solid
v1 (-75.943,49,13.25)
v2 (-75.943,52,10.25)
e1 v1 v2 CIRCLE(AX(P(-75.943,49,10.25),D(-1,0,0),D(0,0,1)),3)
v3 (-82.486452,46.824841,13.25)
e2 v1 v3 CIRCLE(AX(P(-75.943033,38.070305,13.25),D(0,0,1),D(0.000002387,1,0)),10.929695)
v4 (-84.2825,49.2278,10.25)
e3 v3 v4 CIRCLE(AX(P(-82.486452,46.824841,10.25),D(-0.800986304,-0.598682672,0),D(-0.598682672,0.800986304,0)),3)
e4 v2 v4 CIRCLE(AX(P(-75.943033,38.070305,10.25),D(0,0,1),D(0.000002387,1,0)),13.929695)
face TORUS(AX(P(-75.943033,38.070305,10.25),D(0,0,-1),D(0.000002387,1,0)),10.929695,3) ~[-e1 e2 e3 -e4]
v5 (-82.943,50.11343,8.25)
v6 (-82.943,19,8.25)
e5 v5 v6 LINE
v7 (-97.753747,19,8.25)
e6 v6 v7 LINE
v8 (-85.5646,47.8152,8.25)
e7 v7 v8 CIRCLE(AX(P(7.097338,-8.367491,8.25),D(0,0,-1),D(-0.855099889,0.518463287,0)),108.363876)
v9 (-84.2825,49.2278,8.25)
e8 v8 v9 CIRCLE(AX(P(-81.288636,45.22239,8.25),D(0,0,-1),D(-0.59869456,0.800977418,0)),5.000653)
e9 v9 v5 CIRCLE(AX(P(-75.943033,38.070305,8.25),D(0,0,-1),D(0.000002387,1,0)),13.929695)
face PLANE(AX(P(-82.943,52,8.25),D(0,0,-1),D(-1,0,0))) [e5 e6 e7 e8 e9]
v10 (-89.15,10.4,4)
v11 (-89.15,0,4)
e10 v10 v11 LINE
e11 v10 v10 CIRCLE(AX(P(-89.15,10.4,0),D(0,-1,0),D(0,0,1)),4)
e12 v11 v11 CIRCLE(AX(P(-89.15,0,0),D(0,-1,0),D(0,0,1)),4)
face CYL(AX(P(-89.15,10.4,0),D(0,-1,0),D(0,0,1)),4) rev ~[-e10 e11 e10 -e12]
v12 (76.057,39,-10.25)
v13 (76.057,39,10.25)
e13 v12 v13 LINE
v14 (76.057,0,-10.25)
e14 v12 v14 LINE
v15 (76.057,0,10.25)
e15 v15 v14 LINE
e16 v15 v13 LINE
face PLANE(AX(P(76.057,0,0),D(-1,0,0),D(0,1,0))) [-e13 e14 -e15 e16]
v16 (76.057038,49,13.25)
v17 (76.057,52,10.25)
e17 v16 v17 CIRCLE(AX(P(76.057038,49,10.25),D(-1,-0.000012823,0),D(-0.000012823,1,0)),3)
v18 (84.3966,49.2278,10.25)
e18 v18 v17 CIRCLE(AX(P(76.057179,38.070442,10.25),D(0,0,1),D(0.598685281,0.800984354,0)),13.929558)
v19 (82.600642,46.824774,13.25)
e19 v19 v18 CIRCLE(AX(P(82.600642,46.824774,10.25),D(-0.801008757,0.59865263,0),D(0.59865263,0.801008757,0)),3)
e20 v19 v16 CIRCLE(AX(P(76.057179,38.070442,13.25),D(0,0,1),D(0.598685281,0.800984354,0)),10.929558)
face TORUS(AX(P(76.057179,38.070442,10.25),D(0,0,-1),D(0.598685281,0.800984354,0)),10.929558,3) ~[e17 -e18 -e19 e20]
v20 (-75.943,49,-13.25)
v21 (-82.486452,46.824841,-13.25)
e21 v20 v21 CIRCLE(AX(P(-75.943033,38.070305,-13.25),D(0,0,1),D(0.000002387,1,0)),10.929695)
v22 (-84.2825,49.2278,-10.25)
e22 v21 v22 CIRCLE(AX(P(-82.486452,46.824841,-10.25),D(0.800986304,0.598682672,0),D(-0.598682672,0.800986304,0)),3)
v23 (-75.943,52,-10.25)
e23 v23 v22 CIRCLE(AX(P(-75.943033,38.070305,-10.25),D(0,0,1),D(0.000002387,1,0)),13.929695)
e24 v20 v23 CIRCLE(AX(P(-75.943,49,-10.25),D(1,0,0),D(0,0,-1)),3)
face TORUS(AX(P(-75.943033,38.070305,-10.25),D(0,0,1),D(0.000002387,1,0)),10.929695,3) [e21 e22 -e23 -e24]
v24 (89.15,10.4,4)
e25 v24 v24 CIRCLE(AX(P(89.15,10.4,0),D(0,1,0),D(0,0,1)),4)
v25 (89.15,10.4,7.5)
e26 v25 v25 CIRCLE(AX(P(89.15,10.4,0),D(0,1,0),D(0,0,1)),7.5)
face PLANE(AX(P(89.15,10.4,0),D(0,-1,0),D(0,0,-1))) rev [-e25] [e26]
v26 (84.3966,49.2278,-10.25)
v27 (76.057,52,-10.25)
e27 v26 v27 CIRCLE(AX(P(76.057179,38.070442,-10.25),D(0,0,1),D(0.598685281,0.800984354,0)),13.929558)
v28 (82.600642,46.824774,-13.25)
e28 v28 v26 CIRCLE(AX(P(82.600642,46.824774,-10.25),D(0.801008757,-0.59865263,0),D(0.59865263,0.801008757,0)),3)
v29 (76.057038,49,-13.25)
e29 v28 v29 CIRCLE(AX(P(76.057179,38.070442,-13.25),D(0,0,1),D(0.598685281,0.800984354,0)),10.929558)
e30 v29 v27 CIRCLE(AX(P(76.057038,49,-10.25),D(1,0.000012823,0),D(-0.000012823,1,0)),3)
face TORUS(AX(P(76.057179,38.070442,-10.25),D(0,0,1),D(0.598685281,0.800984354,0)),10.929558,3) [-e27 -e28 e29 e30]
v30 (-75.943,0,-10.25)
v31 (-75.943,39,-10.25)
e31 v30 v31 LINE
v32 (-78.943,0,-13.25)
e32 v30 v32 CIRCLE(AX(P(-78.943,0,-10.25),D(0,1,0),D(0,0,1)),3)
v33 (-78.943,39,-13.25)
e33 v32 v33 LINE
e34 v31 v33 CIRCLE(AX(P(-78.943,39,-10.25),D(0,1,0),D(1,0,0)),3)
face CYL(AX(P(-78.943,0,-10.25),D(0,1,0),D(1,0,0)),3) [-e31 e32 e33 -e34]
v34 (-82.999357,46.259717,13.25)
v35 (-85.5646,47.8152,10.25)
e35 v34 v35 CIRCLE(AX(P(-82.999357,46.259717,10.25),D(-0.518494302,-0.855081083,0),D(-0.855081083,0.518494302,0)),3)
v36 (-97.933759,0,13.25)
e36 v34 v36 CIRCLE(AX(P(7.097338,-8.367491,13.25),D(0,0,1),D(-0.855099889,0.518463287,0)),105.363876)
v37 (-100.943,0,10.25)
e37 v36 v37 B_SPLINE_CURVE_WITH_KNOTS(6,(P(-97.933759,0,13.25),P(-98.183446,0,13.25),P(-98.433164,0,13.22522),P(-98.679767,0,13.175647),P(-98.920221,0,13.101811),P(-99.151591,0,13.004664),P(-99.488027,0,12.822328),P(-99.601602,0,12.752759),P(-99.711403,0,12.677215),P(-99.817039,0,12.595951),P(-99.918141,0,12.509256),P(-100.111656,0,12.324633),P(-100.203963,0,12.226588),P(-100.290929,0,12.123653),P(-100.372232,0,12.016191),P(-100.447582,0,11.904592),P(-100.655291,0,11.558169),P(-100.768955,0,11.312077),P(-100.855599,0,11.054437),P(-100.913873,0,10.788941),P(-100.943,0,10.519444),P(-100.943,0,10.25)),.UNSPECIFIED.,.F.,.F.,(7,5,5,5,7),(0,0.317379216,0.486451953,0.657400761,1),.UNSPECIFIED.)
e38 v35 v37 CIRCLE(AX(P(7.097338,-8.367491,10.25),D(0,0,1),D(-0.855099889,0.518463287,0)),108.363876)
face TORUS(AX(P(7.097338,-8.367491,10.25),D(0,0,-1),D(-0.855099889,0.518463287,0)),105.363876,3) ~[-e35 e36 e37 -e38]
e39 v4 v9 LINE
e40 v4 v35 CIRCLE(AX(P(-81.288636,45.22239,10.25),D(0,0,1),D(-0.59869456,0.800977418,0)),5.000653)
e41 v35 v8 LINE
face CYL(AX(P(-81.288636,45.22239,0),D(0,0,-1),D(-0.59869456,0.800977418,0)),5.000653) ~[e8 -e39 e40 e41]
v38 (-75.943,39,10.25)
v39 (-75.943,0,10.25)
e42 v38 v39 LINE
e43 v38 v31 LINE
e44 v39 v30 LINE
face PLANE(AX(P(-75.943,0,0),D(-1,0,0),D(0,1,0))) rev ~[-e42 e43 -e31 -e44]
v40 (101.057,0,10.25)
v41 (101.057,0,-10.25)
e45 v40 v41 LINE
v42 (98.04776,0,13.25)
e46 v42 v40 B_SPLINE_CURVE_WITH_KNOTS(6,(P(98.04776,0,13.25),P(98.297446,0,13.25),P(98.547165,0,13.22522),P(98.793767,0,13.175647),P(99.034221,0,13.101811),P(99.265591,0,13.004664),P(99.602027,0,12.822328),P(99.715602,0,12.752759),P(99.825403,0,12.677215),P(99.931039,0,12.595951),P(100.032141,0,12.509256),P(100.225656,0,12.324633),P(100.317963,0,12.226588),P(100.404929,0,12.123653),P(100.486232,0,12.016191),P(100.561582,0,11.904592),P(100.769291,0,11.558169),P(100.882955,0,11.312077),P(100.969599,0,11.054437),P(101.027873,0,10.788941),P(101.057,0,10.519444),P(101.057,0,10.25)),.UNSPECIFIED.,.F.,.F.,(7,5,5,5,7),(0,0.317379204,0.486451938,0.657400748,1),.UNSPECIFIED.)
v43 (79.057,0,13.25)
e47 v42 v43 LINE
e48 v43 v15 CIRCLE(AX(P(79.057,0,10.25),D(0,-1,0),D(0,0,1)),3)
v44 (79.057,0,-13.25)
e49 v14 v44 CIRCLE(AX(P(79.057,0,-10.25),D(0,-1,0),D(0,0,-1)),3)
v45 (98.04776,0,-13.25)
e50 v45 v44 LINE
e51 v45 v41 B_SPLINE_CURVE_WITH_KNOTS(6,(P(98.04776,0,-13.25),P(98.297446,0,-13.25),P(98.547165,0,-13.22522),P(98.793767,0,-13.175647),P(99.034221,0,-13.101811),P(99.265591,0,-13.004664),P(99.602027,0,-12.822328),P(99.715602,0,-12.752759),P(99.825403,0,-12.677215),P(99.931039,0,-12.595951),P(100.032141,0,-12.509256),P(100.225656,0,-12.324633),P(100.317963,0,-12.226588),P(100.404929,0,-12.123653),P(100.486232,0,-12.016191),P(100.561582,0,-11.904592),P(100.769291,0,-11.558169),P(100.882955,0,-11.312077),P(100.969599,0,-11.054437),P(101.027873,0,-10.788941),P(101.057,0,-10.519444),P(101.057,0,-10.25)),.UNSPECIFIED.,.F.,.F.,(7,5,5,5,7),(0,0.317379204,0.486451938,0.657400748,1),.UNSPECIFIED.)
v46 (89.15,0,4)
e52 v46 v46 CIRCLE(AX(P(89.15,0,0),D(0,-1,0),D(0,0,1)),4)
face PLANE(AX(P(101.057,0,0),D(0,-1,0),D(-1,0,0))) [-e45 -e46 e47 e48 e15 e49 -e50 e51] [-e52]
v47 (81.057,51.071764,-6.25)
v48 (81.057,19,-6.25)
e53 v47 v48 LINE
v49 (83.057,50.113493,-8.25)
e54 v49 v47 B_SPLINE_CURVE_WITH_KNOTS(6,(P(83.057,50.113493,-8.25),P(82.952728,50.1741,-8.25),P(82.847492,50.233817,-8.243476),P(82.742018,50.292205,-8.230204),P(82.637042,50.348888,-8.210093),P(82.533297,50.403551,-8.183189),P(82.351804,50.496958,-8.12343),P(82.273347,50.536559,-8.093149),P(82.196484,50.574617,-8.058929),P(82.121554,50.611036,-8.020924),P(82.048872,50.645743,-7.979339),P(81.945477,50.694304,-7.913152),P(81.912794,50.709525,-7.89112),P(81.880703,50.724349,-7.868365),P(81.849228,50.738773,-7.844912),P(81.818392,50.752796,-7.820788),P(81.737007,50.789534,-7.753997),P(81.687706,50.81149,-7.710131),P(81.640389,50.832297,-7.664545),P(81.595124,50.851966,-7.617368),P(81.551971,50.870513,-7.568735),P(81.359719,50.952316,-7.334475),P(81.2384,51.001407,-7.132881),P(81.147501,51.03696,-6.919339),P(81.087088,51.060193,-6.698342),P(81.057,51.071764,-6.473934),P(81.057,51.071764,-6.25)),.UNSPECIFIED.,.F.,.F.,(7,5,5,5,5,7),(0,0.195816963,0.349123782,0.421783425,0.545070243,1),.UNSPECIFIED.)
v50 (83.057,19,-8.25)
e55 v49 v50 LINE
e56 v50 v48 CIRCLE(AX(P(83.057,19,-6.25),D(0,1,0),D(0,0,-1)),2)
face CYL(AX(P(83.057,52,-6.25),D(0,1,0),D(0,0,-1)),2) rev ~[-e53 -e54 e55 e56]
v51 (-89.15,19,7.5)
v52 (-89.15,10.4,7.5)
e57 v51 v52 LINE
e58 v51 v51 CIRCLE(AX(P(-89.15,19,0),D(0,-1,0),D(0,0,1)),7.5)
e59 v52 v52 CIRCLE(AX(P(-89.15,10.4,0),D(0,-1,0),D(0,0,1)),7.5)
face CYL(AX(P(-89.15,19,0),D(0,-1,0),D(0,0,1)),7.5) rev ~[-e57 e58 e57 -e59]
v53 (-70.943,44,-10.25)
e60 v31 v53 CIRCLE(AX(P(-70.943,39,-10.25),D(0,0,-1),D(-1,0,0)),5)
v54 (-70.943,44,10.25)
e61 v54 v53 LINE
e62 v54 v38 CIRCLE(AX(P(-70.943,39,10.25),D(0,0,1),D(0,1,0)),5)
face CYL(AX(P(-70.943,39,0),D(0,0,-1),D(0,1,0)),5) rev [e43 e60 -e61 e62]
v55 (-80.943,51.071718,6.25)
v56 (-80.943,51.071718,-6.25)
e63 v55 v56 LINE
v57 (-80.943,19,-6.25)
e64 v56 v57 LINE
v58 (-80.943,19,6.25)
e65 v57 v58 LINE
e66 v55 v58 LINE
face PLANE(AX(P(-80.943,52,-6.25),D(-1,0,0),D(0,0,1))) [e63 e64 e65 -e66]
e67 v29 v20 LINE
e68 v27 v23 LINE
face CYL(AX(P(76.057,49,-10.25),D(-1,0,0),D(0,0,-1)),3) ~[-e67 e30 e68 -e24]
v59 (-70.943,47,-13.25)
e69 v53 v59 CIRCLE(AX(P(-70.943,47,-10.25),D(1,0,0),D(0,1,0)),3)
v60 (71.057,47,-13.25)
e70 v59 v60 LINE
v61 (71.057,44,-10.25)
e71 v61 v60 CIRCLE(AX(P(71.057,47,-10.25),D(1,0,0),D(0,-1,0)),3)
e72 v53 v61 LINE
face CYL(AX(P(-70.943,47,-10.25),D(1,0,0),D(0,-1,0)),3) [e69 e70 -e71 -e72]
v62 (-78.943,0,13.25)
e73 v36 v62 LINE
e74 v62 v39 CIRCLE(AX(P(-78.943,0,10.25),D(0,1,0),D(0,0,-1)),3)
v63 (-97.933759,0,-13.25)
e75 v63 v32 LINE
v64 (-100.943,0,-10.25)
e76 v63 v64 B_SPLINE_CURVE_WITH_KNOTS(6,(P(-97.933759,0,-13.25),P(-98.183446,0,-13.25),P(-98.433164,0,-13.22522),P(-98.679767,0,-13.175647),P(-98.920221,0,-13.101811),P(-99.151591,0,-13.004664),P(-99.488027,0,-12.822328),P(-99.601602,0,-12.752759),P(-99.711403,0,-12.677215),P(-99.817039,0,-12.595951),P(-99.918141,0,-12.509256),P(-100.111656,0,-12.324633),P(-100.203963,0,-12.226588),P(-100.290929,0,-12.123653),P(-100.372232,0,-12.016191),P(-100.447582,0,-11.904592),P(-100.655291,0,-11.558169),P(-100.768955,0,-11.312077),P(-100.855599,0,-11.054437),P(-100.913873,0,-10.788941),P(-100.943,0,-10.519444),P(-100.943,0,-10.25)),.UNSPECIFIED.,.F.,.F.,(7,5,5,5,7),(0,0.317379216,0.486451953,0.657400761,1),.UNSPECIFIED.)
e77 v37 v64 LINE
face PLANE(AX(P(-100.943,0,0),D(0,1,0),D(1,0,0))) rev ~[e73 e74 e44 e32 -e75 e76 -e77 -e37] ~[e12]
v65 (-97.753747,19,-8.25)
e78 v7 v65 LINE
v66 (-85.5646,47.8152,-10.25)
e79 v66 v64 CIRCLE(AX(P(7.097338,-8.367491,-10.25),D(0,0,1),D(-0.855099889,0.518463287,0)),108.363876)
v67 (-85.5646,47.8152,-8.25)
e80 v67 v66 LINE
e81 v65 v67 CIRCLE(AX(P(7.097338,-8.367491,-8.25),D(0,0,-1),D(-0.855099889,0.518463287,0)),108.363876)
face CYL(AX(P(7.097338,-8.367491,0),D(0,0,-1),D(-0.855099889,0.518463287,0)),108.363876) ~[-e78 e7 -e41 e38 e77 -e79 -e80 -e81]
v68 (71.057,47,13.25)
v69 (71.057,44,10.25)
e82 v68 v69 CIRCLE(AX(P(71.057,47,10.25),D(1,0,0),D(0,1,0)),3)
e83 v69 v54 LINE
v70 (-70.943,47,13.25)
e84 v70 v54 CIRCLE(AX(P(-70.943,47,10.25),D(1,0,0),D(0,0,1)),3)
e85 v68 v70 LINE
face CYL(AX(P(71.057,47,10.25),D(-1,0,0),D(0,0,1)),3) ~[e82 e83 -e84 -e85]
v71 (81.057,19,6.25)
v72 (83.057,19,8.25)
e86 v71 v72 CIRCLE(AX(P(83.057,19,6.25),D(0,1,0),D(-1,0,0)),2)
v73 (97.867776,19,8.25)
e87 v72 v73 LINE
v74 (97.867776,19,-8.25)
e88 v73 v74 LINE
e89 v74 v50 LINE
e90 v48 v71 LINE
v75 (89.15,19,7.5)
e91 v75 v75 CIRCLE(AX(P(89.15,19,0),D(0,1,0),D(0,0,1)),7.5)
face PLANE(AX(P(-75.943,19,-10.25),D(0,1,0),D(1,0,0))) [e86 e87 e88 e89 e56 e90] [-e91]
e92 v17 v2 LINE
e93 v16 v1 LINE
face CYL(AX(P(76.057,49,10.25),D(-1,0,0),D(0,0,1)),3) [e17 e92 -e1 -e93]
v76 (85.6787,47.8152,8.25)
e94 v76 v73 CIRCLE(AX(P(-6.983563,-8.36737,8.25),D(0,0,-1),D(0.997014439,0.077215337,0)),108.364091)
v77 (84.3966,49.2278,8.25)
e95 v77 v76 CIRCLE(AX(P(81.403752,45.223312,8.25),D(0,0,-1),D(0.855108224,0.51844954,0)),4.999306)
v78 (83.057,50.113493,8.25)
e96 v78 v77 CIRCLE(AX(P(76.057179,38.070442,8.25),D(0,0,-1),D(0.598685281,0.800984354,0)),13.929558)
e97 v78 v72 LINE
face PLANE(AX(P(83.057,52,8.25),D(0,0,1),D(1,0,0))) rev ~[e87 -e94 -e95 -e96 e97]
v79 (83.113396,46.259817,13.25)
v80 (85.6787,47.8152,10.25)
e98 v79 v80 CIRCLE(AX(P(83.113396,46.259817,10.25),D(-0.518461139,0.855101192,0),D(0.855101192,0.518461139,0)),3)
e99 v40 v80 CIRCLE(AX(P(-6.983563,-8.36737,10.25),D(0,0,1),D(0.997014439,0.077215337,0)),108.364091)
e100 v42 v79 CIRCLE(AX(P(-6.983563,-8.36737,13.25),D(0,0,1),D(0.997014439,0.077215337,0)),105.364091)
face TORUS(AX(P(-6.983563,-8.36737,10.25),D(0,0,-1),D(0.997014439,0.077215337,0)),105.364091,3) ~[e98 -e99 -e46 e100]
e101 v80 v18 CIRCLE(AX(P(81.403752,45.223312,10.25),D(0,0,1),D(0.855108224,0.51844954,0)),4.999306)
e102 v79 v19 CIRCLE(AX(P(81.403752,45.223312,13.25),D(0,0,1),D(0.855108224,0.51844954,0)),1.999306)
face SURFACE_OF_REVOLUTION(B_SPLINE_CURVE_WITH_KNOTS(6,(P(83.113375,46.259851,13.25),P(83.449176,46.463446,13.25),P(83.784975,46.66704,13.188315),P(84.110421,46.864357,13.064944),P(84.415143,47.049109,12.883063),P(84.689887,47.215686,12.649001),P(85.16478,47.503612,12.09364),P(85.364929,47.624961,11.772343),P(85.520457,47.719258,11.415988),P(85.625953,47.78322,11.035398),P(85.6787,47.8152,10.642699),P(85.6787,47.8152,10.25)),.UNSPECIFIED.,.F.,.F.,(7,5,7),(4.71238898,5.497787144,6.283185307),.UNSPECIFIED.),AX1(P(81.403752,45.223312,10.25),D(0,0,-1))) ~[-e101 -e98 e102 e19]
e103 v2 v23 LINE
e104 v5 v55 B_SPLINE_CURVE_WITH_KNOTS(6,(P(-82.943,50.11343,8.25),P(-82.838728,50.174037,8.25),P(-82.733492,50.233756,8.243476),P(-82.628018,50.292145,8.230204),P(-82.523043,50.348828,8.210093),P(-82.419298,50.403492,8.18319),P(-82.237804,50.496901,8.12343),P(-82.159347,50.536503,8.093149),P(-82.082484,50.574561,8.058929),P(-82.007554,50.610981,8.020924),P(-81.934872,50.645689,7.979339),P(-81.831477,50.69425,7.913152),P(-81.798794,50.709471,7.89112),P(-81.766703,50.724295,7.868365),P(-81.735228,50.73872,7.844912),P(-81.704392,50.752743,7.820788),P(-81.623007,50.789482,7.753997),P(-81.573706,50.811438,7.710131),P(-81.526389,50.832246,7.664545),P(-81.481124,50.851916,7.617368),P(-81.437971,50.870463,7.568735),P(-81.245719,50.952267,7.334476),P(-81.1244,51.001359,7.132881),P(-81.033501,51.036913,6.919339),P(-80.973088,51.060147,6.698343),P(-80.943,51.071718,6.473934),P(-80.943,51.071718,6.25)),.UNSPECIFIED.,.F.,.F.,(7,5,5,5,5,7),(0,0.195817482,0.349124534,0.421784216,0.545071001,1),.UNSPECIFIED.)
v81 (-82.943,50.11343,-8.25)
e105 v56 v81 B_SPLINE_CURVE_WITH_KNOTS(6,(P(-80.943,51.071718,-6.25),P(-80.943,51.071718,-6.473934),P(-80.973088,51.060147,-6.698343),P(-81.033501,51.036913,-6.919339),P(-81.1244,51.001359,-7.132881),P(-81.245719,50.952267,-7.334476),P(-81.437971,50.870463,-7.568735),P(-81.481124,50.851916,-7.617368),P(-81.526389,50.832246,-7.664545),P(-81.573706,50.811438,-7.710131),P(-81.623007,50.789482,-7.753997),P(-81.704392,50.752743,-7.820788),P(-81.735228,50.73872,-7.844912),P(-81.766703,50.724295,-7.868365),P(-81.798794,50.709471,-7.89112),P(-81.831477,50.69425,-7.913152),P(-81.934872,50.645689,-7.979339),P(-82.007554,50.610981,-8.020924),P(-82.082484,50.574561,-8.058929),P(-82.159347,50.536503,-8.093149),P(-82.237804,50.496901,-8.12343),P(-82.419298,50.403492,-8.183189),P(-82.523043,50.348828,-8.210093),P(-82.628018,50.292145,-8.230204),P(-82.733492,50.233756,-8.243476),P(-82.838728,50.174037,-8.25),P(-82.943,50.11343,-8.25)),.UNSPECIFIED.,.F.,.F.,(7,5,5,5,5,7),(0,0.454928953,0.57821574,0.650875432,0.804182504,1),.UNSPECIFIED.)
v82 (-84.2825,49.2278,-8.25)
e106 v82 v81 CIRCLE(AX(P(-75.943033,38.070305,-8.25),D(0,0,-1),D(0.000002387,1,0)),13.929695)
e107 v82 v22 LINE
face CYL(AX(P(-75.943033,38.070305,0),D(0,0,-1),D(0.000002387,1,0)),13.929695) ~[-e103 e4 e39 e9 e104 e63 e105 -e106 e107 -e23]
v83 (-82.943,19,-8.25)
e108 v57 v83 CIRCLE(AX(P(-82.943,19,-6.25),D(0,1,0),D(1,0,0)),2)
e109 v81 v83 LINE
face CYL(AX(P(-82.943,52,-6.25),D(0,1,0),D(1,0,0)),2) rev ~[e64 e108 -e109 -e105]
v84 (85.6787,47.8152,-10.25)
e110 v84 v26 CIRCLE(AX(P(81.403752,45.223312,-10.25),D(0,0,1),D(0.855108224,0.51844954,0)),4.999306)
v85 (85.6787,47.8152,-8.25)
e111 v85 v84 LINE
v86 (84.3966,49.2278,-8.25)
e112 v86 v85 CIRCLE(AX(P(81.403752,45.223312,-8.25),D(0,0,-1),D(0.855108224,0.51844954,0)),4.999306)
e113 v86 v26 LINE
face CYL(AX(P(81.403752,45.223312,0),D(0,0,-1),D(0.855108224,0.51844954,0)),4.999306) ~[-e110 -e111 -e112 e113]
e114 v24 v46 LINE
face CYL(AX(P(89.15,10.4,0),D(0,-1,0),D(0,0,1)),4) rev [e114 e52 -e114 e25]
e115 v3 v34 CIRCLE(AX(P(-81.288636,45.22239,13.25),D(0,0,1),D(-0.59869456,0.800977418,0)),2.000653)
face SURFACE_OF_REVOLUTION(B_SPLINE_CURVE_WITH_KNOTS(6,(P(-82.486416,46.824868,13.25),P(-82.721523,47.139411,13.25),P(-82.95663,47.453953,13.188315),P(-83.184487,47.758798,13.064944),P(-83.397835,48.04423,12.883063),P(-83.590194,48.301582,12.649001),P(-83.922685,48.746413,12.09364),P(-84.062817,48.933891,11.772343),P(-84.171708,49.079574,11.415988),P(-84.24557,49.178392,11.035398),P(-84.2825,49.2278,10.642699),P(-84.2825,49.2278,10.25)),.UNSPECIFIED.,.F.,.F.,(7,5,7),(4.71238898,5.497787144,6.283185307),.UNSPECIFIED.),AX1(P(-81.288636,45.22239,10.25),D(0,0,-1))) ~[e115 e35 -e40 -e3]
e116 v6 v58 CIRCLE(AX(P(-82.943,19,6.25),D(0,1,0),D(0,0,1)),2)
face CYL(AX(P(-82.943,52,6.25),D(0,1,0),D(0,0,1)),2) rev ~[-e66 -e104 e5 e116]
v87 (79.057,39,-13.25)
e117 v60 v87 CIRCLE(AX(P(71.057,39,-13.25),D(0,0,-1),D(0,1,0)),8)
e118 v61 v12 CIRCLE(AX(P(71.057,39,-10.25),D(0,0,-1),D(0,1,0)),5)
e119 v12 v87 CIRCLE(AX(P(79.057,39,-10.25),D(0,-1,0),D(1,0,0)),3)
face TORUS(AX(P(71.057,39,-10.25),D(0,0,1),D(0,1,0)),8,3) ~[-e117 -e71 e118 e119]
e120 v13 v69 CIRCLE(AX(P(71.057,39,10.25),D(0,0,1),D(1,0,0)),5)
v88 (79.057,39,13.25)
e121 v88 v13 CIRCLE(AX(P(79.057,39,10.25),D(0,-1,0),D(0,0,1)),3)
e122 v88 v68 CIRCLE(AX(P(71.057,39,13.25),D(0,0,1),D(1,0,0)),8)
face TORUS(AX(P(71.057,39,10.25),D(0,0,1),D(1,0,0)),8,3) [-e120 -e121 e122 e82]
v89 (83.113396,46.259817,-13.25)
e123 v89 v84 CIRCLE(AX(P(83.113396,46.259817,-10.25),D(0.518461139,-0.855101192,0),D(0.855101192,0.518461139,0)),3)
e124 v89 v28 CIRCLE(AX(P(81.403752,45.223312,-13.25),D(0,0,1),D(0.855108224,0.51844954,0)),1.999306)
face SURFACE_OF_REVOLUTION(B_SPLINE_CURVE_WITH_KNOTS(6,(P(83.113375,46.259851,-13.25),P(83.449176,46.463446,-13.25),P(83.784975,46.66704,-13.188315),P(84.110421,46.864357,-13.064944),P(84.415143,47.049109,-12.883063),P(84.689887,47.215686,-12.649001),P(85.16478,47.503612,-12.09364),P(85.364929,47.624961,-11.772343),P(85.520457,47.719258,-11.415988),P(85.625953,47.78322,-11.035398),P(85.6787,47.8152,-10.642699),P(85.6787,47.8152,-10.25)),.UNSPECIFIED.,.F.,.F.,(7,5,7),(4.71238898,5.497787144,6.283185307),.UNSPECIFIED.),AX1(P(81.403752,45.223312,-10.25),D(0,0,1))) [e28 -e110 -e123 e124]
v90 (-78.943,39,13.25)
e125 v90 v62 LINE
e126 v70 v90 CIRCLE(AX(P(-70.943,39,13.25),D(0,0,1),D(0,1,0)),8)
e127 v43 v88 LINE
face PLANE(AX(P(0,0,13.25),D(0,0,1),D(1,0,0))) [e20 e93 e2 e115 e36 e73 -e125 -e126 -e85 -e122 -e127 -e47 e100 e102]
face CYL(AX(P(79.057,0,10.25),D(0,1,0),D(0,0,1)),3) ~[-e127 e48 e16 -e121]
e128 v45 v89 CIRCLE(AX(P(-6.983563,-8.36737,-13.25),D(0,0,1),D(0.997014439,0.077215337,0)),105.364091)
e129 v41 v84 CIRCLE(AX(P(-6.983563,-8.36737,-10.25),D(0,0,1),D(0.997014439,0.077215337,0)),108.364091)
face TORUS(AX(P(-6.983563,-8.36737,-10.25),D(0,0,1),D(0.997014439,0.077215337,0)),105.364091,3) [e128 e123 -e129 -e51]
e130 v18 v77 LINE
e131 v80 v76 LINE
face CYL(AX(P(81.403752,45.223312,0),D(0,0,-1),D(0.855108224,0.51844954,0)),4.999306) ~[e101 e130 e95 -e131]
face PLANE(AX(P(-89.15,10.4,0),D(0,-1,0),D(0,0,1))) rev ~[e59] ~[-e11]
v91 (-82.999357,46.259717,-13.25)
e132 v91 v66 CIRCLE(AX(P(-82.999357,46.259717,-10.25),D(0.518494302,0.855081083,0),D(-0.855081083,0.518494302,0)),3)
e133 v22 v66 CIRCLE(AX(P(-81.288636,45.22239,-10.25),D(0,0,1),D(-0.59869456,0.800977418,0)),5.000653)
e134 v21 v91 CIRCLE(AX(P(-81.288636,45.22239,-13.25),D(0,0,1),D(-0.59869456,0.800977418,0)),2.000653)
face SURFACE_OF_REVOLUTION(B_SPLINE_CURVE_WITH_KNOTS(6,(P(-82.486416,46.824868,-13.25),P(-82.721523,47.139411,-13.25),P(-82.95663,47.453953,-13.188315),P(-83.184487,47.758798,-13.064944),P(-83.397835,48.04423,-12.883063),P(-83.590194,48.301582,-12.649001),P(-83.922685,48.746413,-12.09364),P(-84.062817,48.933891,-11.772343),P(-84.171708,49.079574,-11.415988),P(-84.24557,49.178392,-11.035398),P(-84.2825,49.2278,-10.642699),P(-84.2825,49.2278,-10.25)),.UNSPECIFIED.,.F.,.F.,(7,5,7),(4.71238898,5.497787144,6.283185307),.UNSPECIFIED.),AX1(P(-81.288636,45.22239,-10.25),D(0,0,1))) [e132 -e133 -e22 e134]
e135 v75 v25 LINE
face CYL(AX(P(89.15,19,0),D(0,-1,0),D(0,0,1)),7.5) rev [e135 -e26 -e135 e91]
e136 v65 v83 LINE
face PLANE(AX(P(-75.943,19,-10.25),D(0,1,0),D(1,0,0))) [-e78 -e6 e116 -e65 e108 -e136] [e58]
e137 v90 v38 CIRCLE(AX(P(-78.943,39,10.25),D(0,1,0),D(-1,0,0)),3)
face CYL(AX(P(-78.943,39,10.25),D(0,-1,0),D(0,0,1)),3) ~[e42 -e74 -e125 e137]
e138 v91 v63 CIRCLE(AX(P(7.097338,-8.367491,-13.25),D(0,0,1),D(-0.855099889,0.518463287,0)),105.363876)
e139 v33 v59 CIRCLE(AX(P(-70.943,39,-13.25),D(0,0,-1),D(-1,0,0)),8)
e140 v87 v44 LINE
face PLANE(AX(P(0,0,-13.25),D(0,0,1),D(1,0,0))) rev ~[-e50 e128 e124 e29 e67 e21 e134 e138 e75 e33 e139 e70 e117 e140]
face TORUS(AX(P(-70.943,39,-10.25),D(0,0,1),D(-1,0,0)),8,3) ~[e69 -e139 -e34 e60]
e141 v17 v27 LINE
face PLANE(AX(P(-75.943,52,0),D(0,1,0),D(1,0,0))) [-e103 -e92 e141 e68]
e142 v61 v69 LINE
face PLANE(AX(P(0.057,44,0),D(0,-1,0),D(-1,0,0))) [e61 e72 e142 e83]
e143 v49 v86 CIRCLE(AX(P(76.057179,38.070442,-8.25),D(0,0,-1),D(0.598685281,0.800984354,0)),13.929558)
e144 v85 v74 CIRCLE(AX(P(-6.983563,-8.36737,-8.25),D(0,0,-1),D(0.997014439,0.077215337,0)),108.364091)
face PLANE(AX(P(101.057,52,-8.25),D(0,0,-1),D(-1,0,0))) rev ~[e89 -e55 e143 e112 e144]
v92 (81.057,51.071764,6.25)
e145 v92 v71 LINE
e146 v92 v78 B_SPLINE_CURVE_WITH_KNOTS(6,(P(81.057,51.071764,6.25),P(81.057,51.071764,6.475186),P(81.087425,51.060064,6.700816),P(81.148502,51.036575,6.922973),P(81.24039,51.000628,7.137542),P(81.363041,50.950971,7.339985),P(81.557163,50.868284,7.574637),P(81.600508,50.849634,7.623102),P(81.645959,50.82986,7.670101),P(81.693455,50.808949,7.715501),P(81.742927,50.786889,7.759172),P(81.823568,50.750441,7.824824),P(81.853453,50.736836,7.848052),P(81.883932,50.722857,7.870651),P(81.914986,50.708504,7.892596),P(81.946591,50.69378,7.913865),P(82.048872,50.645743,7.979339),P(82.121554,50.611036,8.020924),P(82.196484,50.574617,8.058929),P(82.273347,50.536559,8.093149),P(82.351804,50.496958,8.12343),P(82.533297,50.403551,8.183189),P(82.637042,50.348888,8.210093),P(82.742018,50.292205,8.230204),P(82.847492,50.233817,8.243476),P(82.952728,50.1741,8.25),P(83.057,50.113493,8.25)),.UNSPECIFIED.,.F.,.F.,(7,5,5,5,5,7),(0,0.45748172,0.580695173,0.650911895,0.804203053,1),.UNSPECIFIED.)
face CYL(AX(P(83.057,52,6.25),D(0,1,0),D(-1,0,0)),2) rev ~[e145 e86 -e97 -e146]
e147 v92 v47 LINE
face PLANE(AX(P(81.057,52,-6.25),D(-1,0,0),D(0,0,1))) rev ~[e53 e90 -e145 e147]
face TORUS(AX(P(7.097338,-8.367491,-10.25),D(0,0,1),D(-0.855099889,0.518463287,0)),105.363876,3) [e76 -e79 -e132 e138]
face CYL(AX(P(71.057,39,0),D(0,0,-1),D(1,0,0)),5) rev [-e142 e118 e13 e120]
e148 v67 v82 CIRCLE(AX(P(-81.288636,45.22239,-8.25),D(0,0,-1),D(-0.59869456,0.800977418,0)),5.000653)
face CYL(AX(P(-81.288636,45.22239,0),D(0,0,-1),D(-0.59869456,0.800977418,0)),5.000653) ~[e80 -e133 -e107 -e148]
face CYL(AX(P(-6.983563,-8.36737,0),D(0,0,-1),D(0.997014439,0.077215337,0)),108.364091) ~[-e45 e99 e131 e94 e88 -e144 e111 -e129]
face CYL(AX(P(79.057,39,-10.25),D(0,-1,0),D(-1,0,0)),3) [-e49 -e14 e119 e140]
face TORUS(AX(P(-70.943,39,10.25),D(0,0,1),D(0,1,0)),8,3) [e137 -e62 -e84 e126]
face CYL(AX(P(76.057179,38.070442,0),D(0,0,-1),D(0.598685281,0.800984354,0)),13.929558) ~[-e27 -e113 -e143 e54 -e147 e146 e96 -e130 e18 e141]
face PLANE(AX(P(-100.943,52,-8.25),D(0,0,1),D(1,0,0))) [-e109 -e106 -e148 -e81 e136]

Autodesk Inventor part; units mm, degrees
ref_plane "YZ Plane" through (0, 0, 0) normal (1, 0, 0) x (0, 1, 0)
ref_plane "XZ Plane" through (0, 0, 0) normal (0, 1, 0) x (-1, 0, 0)
ref_plane "XY Plane" through (0, 0, 0) normal (0, 0, 1) x (1, 0, 0)
sketch "Sketch1" plane through (0, 0, 0) normal (0, 0, 1) x (1, 0, 0)
  line L0 (0.057, 44) -> (71.057, 44)
  line L1 (76.057, 52) -> (0.057, 52)
  line L2 (101.057, 0) -> (76.057, 0)
  line L3 (76.057, 0) -> (76.057, 39)
  arc A0 (101.057, 0) -> (85.6787, 47.8152) centre (-6.9827, -8.3672) ccw
  arc A1 (84.3966, 49.2278) -> (76.057, 52) centre (76.057, 38.0701) ccw
  arc A2 (85.6787, 47.8152) -> (84.3966, 49.2278) centre (81.4032, 45.2229) ccw
  line L4 (0.057, 44) -> (-70.943, 44)
  line L5 (-75.943, 52) -> (0.057, 52)
  line L6 (-100.943, 0) -> (-75.943, 0)
  line L7 (-75.943, 0) -> (-75.943, 39)
  arc A3 (-85.5646, 47.8152) -> (-100.943, 0) centre (7.0967, -8.3672) ccw
  arc A4 (-75.943, 52) -> (-84.2825, 49.2278) centre (-75.943, 38.0701) ccw
  arc A5 (-84.2825, 49.2278) -> (-85.5646, 47.8152) centre (-81.2891, 45.2229) ccw
  arc A6 (76.057, 39) -> (71.057, 44) centre (71.057, 39) ccw
  arc A7 (-70.943, 44) -> (-75.943, 39) centre (-70.943, 39) ccw
  point P0 (0, 0)
  point P1 (76.057, 44)
  point P2 (0.1141, 0)
  point P3 (-75.943, 44)
  dimension "d1" = 44
  dimension "d2" = 8
  dimension "d4" = 5
  dimension "d5" = 152
  dimension "d10" = 5
extrude "Extrusion1" add sketch "Sketch1" along normal mid plane 26.5
fillet "Fillet1" radius 3 14 edges at (-80.3371, 51.2888, 13.25) (-84.9915, 48.5832, 13.25) (-96.0624, 24.8109, 13.25) (80.4512, 51.2888, 13.25) (85.1056, 48.5832, 13.25) (96.1764, 24.8109, 13.25) (0.057, 52, 13.25) (80.4512, 51.2888, -13.25) (85.1056, 48.5832, -13.25) (96.1764, 24.8109, -13.25) (-80.3371, 51.2888, -13.25) (-84.9915, 48.5832, -13.25) (-96.0624, 24.8109, -13.25) (0.057, 52, -13.25)
fillet "Fillet2" radius 3 6 edges at (0.057, 44, 13.25) (76.057, 19.5, 13.25) (-75.943, 19.5, 13.25) (-75.943, 19.5, -13.25) (0.057, 44, -13.25) (76.057, 19.5, -13.25)
sketch "Sketch2" plane through (-75.943, 52, -10.25) normal (0, 1, 0) x (1, 0, 0)
  line L0 (0, 0) -> (0, -20.5) projected
  line L1 (152, 0) -> (152, -20.5) projected
  line L2 (177, 0) -> (177, -20.5) projected
  line L3 (177, -2) -> (159, -2)
  line L4 (157, -4) -> (157, -16.5)
  line L5 (159, -18.5) -> (177, -18.5)
  line L6 (177, -18.5) -> (177, -2)
  line L7 (159.0563, 3) -> (173.9908, 3) projected
  line L8 (173.9908, -23.5) -> (159.0563, -23.5) projected
  arc A0 (159, -2) -> (157, -4) centre (159, -4) ccw
  arc A1 (157, -16.5) -> (159, -18.5) centre (159, -16.5) ccw
  line L9 (-25, 0) -> (-25, -20.5) projected
  line L10 (-25, -2) -> (-7, -2)
  line L11 (-5, -4) -> (-5, -16.5)
  line L12 (-7, -18.5) -> (-25, -18.5)
  line L13 (-25, -18.5) -> (-25, -2)
  arc A2 (-5, -4) -> (-7, -2) centre (-7, -4) ccw
  arc A3 (-7, -18.5) -> (-5, -16.5) centre (-7, -16.5) ccw
  point P0 (75.943, -10.25)
  point P1 (166.5236, 3)
  dimension "d11" = 5
  dimension "d12" = 5
  dimension "d13" = 5
  dimension "d14" = 2
  dimension "d15" = 5
  dimension "d16" = 2
extrude "Extrusion2" cut sketch "Sketch2" against normal blind 33
sketch "Sketch3" plane through (-75.943, 19, -10.25) normal (0, 1, 0) x (1, 0, 0)
  line L0 (-65.4065, -10.25) -> (217.4065, -10.25) projected
  line L1 (-5, -4) -> (-5, -16.5) projected
  line L2 (75.943, 8.3065) -> (75.943, -28.8065) projected
  point P0 (75.943, -10.25)
  point P1 (-13.207, -10.25)
  dimension "d27" = 89.15
hole "Hole1" at (-89.15, 19, 0) direction (0, -1, 0) diameter 8 end through all counterbore diameter 15 counterbore depth 8.6
mirror "Mirror1" about plane through (0, 0, 0) normal (1, 0, 0) of "Hole1"
properties part number "Handle"
